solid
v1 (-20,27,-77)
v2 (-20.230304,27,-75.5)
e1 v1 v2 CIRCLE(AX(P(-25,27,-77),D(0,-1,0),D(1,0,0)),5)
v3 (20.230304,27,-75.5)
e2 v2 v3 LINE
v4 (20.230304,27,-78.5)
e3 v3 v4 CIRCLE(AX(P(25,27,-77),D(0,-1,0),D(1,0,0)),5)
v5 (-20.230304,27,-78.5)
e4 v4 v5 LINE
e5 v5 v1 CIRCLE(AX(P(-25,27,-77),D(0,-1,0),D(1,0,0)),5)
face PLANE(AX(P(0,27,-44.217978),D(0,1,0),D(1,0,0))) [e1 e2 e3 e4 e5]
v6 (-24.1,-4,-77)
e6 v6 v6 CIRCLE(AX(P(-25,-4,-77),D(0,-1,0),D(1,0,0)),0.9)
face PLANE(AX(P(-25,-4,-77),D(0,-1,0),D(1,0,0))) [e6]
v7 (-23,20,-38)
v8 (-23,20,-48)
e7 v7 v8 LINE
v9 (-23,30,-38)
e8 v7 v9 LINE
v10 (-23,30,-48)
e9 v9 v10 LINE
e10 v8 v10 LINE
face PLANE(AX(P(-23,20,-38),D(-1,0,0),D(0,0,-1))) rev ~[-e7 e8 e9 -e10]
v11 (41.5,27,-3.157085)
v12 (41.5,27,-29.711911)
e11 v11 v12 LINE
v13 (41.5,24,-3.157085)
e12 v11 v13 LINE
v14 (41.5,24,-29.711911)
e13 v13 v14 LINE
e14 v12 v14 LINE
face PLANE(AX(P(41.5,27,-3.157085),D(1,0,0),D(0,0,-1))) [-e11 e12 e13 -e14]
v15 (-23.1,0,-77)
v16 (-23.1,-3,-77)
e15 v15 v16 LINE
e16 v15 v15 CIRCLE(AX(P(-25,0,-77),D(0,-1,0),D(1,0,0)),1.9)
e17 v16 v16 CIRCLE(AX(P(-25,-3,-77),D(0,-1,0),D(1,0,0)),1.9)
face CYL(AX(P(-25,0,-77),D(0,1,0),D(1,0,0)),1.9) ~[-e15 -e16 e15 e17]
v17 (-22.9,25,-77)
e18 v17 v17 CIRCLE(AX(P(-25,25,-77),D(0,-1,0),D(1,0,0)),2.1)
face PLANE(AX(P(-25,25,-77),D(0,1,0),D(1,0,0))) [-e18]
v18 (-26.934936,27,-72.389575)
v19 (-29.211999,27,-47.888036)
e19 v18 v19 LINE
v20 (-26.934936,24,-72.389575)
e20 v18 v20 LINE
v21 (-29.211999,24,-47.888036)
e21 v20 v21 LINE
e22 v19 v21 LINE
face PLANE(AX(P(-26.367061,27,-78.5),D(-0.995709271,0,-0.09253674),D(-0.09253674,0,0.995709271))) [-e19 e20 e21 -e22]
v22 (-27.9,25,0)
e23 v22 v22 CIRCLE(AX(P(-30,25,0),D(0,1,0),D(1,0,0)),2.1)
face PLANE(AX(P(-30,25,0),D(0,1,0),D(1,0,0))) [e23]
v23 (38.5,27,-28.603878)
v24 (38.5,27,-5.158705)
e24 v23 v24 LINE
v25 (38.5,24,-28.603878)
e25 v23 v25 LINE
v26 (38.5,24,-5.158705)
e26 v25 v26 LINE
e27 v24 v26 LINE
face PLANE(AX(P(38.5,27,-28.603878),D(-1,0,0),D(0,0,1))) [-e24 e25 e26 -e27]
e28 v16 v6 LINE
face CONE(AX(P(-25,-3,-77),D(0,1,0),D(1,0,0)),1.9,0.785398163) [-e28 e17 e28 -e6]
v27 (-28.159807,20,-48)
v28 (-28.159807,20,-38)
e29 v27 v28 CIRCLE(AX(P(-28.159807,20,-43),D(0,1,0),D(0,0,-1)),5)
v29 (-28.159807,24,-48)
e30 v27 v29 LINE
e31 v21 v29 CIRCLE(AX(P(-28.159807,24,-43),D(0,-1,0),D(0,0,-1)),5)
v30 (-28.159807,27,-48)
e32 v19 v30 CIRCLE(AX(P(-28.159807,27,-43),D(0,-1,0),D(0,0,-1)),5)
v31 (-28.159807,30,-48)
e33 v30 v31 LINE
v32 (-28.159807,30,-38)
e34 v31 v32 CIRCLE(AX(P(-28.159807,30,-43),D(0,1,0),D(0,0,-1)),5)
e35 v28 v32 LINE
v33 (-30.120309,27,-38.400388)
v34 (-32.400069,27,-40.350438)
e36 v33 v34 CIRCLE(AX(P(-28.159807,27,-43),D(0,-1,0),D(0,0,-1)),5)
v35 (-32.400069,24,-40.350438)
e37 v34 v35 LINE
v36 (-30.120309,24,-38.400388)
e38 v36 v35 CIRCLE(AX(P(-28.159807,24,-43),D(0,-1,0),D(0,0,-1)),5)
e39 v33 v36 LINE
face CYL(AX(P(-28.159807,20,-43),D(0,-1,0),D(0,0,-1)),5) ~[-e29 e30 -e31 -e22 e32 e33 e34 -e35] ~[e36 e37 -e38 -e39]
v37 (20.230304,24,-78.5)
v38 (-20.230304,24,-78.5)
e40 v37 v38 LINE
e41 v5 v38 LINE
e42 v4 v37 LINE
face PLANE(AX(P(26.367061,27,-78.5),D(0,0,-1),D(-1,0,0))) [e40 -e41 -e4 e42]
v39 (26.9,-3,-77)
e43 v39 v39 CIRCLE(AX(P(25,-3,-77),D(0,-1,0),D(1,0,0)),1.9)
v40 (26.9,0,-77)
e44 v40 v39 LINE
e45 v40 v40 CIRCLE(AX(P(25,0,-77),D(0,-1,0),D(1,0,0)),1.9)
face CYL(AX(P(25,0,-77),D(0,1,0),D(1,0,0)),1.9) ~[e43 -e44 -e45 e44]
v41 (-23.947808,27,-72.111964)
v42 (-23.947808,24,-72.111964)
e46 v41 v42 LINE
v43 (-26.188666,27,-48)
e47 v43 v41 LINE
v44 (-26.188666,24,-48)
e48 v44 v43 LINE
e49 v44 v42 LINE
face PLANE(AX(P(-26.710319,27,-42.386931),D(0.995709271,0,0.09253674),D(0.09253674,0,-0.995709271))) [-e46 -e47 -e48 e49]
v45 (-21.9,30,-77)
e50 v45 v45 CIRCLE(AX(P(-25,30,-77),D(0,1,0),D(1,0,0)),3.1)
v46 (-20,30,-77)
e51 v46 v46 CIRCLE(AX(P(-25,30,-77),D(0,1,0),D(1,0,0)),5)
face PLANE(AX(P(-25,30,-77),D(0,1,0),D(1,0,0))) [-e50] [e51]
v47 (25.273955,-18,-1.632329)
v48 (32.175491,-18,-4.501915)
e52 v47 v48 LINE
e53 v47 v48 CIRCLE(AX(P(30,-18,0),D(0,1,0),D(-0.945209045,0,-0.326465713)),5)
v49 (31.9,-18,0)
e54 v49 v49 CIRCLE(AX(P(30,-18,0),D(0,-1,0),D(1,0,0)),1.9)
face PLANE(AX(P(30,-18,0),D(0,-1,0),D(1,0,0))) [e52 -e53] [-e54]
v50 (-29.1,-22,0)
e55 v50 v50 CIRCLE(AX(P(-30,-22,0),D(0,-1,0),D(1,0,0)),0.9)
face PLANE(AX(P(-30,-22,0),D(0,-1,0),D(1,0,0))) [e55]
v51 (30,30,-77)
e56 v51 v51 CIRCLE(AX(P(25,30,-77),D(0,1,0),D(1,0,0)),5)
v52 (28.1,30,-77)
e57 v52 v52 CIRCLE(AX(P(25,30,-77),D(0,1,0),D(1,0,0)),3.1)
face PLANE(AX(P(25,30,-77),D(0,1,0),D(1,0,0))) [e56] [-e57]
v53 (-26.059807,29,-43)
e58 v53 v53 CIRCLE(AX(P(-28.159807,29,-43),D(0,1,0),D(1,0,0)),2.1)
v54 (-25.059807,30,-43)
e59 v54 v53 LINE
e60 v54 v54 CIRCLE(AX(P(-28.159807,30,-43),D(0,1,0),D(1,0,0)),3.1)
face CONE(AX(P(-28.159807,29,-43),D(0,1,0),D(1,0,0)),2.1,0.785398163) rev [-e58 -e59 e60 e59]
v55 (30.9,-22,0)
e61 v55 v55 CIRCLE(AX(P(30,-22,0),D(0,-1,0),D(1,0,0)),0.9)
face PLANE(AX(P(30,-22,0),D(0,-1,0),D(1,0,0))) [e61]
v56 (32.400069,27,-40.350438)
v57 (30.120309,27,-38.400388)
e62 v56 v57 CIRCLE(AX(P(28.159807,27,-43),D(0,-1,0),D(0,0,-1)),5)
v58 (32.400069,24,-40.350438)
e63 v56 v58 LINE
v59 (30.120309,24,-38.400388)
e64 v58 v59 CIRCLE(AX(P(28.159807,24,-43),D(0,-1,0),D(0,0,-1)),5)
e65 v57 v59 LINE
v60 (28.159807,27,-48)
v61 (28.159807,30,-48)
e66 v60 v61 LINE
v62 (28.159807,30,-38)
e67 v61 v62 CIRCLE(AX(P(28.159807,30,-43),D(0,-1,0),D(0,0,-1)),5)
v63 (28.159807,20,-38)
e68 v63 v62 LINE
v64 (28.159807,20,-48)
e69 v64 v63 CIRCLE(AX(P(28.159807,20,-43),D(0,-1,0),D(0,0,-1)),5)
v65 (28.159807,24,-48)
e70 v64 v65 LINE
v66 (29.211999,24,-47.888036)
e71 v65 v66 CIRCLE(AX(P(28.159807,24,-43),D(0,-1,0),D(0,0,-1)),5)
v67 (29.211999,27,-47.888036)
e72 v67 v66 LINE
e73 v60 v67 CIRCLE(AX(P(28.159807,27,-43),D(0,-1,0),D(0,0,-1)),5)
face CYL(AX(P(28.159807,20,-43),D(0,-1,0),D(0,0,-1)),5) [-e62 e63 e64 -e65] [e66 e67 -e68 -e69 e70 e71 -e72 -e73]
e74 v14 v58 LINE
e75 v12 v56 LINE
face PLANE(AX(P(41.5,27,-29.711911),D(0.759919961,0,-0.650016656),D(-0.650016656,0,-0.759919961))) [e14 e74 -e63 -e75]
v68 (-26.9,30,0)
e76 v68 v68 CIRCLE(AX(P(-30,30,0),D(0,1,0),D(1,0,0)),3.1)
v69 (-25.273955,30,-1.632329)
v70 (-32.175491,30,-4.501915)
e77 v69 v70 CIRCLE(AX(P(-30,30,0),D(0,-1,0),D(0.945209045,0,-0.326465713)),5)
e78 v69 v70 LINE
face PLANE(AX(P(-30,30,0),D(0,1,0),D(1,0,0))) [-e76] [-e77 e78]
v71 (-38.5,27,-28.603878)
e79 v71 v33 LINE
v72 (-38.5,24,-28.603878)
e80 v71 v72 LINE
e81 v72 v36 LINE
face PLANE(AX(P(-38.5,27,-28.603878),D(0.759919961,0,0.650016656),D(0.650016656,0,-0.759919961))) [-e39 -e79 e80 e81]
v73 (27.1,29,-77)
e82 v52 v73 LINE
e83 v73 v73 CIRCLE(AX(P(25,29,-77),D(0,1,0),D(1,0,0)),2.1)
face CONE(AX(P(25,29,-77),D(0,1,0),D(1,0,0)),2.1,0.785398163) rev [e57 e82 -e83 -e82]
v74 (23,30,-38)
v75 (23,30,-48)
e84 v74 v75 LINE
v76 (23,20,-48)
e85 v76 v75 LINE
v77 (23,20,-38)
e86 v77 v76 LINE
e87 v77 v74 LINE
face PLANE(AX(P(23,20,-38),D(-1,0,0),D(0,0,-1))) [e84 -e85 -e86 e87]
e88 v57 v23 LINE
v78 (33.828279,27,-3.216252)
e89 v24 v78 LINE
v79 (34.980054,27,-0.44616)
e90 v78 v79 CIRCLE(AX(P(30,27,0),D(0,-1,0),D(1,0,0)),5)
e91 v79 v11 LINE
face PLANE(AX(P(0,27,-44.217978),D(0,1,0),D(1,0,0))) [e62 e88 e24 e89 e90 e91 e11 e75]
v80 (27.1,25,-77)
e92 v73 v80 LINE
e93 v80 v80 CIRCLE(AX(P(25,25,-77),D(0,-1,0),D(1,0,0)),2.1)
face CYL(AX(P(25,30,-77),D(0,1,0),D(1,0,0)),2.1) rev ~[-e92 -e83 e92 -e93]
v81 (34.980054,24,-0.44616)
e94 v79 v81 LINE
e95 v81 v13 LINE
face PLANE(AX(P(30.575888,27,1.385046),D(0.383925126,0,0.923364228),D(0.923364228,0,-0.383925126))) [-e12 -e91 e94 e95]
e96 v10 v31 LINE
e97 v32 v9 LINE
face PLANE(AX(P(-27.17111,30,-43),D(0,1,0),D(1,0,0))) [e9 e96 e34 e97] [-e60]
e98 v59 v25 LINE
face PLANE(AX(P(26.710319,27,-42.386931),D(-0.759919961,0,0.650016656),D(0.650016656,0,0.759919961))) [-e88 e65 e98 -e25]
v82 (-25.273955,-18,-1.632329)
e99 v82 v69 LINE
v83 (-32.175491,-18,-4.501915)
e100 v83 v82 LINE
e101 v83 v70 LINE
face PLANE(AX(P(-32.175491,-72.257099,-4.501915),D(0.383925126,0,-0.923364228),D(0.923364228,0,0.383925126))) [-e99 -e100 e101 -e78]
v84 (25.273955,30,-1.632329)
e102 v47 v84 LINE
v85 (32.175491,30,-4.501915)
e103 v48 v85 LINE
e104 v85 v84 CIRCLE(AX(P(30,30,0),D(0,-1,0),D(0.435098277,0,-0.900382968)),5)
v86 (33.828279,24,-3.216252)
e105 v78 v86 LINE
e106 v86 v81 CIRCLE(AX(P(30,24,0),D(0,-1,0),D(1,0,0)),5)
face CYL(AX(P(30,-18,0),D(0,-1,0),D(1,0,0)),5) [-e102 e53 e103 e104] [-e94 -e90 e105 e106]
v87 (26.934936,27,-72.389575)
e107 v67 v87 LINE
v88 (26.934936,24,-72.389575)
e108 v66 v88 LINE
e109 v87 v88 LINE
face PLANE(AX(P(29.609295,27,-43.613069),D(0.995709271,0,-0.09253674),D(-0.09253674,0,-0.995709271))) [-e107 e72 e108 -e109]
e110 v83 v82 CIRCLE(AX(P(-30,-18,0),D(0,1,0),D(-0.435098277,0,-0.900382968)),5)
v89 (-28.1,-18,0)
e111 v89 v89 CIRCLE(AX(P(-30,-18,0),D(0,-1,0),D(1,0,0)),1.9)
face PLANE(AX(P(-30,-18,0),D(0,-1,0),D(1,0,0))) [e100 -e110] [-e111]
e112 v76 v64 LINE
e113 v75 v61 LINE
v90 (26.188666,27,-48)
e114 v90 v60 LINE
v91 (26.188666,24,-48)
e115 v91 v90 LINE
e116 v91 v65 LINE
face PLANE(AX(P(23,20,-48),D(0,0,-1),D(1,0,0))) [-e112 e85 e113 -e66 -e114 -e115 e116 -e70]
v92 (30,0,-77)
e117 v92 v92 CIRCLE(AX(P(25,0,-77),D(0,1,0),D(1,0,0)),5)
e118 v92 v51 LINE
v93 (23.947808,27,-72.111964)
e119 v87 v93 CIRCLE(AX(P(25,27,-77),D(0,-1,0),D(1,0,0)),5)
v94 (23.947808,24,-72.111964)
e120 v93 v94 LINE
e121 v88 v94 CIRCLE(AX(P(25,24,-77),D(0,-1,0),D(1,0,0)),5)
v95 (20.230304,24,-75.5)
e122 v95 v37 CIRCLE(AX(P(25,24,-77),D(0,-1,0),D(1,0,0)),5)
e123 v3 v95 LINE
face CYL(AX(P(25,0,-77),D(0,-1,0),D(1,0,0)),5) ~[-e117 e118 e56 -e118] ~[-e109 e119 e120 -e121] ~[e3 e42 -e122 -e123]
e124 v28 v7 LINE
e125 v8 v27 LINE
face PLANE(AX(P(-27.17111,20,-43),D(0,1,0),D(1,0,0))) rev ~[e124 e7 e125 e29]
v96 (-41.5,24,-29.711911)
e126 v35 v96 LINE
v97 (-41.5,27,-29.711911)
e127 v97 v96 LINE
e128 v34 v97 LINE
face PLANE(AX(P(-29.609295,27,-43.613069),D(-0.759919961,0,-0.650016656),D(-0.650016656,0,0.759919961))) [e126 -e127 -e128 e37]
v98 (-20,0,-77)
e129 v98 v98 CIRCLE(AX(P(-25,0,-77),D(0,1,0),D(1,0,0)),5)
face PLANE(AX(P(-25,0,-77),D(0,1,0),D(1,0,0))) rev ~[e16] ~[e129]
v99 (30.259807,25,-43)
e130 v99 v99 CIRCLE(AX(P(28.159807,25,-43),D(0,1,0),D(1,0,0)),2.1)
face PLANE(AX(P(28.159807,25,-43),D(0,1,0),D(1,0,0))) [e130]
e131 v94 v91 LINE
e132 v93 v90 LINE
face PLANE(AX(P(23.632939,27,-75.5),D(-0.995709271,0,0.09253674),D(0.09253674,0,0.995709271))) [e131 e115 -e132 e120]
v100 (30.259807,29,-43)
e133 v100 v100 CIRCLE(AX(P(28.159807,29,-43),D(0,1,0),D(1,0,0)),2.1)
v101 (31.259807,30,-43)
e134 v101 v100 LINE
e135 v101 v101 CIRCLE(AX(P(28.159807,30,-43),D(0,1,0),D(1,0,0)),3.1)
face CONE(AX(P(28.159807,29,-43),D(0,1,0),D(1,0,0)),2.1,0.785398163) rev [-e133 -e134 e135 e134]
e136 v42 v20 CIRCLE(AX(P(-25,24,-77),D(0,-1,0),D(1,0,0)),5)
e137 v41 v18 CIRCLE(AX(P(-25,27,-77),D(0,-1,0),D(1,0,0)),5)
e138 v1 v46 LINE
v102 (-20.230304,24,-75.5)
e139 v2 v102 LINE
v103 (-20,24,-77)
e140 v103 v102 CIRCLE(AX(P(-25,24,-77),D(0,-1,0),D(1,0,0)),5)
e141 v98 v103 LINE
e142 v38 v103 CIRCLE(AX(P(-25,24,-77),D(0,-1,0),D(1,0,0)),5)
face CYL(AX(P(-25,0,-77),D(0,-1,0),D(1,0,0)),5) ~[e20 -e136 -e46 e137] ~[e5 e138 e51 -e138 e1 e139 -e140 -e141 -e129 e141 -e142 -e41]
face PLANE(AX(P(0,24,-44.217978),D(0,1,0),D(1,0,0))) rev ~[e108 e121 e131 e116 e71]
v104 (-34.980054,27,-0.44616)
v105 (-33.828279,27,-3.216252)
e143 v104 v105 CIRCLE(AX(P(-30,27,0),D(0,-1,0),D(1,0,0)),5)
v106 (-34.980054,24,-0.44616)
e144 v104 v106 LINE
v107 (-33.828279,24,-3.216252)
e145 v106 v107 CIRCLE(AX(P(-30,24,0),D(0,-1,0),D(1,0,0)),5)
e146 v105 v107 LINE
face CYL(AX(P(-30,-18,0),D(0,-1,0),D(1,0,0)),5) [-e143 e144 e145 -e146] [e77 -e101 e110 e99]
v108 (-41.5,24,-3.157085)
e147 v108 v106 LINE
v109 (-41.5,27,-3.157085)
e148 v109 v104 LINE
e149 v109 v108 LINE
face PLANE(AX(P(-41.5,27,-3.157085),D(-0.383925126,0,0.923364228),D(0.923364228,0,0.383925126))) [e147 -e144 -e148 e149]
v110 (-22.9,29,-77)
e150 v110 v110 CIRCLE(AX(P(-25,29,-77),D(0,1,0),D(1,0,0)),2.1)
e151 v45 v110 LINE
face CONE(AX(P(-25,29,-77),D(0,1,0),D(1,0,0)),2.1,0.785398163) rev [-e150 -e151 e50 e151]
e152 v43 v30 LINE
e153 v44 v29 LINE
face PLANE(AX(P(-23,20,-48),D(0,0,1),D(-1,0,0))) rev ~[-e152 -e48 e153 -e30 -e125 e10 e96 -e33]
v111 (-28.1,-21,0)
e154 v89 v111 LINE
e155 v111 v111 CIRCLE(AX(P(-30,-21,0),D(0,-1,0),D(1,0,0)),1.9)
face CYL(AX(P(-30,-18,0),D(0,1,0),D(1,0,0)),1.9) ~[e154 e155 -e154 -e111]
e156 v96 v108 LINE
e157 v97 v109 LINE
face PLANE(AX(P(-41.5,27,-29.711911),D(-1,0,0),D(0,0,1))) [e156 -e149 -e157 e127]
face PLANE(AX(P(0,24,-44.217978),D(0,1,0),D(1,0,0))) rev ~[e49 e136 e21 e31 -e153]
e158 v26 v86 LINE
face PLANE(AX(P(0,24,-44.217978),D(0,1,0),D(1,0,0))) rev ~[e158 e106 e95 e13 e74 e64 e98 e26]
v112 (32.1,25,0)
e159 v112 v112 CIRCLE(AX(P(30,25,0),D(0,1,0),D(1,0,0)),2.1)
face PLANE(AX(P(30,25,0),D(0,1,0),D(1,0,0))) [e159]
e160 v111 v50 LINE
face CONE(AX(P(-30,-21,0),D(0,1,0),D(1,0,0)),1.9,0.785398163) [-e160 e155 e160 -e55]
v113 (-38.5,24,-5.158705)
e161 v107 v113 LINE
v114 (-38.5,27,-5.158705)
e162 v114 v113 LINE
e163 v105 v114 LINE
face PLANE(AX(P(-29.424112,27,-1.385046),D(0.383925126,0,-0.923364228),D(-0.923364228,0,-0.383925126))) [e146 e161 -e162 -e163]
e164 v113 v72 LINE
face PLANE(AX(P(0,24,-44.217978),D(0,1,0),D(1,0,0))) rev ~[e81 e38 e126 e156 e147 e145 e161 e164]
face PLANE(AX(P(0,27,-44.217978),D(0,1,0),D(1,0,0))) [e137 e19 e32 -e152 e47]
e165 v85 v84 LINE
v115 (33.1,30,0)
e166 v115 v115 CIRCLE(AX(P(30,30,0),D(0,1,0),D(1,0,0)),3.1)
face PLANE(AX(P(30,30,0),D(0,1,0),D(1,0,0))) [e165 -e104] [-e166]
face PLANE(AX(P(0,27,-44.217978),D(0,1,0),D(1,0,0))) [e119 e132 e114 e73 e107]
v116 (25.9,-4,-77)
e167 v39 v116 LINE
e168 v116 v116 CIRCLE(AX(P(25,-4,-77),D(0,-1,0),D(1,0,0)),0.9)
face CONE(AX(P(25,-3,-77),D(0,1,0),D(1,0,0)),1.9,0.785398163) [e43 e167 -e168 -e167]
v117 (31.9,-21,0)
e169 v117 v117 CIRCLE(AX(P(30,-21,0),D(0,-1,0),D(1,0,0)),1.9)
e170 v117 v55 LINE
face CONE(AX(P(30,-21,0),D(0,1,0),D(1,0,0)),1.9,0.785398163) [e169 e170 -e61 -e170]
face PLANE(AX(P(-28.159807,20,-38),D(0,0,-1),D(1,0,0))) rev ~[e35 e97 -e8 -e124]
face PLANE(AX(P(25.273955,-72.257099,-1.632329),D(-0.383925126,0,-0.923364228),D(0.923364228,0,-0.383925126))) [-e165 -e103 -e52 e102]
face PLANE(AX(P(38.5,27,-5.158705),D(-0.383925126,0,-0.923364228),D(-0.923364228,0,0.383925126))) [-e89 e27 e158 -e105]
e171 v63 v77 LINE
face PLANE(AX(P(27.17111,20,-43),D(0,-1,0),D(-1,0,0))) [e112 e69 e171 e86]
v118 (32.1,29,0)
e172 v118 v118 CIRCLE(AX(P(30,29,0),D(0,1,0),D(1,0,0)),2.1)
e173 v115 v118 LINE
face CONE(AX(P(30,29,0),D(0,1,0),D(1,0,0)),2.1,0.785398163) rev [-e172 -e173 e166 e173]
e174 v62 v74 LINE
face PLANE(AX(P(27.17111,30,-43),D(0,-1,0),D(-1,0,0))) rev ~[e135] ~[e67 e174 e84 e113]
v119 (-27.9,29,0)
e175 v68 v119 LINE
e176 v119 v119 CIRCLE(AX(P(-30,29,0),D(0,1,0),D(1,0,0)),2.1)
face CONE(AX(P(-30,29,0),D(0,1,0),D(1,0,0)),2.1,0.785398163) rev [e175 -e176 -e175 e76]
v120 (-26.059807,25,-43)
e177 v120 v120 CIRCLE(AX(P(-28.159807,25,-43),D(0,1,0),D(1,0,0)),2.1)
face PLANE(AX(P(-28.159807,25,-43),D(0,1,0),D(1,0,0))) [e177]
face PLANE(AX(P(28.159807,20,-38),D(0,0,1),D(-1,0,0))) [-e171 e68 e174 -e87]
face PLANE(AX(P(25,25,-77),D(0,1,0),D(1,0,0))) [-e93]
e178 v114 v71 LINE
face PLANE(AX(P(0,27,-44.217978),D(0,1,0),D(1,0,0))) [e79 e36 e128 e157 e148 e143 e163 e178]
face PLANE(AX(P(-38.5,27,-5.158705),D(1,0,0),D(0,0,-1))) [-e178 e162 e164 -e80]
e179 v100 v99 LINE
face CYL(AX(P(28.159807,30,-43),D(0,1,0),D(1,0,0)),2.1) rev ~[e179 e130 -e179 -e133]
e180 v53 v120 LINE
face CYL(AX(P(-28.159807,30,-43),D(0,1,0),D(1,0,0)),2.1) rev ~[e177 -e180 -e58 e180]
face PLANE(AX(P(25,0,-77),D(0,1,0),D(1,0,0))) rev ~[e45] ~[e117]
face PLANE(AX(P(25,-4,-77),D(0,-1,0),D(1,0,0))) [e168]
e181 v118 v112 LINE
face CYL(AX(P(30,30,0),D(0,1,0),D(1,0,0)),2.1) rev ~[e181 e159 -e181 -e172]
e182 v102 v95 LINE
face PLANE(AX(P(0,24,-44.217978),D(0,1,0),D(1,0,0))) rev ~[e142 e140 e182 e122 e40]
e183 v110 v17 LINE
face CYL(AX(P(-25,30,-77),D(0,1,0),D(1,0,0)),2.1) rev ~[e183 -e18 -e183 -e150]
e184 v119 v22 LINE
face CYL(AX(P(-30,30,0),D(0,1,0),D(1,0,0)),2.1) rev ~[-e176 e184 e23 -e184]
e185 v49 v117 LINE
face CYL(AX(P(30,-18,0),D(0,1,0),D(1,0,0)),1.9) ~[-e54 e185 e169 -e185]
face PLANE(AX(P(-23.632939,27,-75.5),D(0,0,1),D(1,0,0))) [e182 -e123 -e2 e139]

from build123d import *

# Parameters (mm, degrees)
SKETCH_1_R               = 5
EXTRUDE_1_DEPTH          = 30
EXTRUDE_1_2_DEPTH        = 30
EXTRUDE_1_3_DEPTH        = 30
EXTRUDE_1_4_DEPTH        = 30
EXTRUDE_START            = 18
SKETCH_2_R               = 5
EXTRUDE_2_DEPTH          = 18
SKETCH_3_R               = 2.1
CUT_EXTRUDE_1_DEPTH      = 5
EXTRUDE_START_2          = 20
EXTRUDE_3_DEPTH          = 10
EXTRUDE_3_2_DEPTH        = 10
CUT_EXTRUDE_2_DEPTH      = 102.257098517
CUT_EXTRUDE_2_DEPTH_BACK = 102.257098517
EXTRUDE_START_3          = -3
EXTRUDE_4_DEPTH          = 3
SKETCH_7_R               = 2.1
CUT_EXTRUDE_3_DEPTH      = 5
SKETCH_8_R               = 1.9
EXTRUDE_5_DEPTH          = 4
SKETCH_9_R               = 1.9
EXTRUDE_6_DEPTH          = 4
CHAMFER_1_SIZE           = 1


with BuildPart() as part:
    # 스케치1 → 보스-돌출1 (new body)
    with BuildSketch(Plane(origin=(0, 0, 0), x_dir=(1, 0, 0), z_dir=(0, 1, 0))):
        with Locations((30, 0)):
            Circle(SKETCH_1_R)
    extrude(amount=EXTRUDE_1_DEPTH)



with BuildPart() as body_2:
    # 스케치1 → Extrude 1 2 (new body)
    with BuildSketch(Plane(origin=(0, 0, 0), x_dir=(1, 0, 0), z_dir=(0, 1, 0))):
        with Locations((25, 77)):
            Circle(SKETCH_1_R)
    extrude(amount=EXTRUDE_1_2_DEPTH)


with BuildPart() as body_3:
    # 스케치1 → Extrude 1 3 (new body)
    with BuildSketch(Plane(origin=(0, 0, 0), x_dir=(1, 0, 0), z_dir=(0, 1, 0))):
        with Locations((-30, 0)):
            Circle(SKETCH_1_R)
    extrude(amount=EXTRUDE_1_3_DEPTH)


with BuildPart() as body_4:
    # 스케치1 → Extrude 1 4 (new body)
    with BuildSketch(Plane(origin=(0, 0, 0), x_dir=(1, 0, 0), z_dir=(0, 1, 0))):
        with Locations((-25, 77)):
            Circle(SKETCH_1_R)
    extrude(amount=EXTRUDE_1_4_DEPTH)


with BuildPart() as part_1:
    add(part.part)

    add(body_3.part)  # 보스-돌출2 merges body 3
    # 스케치2 → 보스-돌출2 (add)
    with BuildSketch(Plane.XZ.offset(EXTRUDE_START)):
        with Locations((-30, 0)):
            Circle(SKETCH_2_R)
        with Locations((30, 0)):
            Circle(SKETCH_2_R)
    extrude(amount=-EXTRUDE_2_DEPTH)

    # 스케치5 → 컷-돌출2 (cut, two sides: drawn at the far end of the back side and taken through both)
    with BuildSketch(Plane(origin=(0, 30, 0), x_dir=(1, 0, 0), z_dir=(0, 1, 0)).offset(-CUT_EXTRUDE_2_DEPTH_BACK)):
        with BuildLine():
            Line((-32.175491387, 4.50191484), (-25.273954776, 1.632328565))
            ThreePointArc((-25.273954776, 1.632328565), (-28.080374368, 4.61682114), (-32.175491387, 4.50191484))
        make_face()
        with BuildLine():
            Line((25.273954776, 1.632328565), (32.175491387, 4.50191484))
            ThreePointArc((32.175491387, 4.50191484), (28.080374368, 4.61682114), (25.273954776, 1.632328565))
        make_face()
    extrude(amount=CUT_EXTRUDE_2_DEPTH + CUT_EXTRUDE_2_DEPTH_BACK, mode=Mode.SUBTRACT)



with BuildPart() as cut_extrude_1_tool:
    # 스케치3 → 컷-돌출1 (new body)
    with BuildSketch(Plane(origin=(0, 30, 0), x_dir=(1, 0, 0), z_dir=(0, 1, 0))):
        with Locations((-25, 77)):
            Circle(SKETCH_3_R)
        with Locations((25, 77)):
            Circle(SKETCH_3_R)
    extrude(amount=-CUT_EXTRUDE_1_DEPTH)


with BuildPart() as body_2_1:
    add(body_2.part)

    # 컷-돌출1: cut by cut_extrude_1_tool
    add(cut_extrude_1_tool.part, mode=Mode.SUBTRACT)


with BuildPart() as body_4_1:
    add(body_4.part)

    # 컷-돌출1: cut by cut_extrude_1_tool
    add(cut_extrude_1_tool.part, mode=Mode.SUBTRACT)


with BuildPart() as body_4_2:
    # 스케치4 → 보스-돌출3 (new body)
    with BuildSketch(Plane(origin=(0, 0, 0), x_dir=(1, 0, 0), z_dir=(0, 1, 0)).offset(EXTRUDE_START_2)):
        with BuildLine():
            Line((23, 48), (28.159807037, 48))
            ThreePointArc((28.159807037, 48), (33.159807037, 43), (28.159807037, 38))
            Line((28.159807037, 38), (23, 38))
            Line((23, 38), (23, 48))
        make_face()
    extrude(amount=EXTRUDE_3_DEPTH)


with BuildPart() as body_5:
    # 스케치4 → Extrude 3 2 (new body)
    with BuildSketch(Plane(origin=(0, 0, 0), x_dir=(1, 0, 0), z_dir=(0, 1, 0)).offset(EXTRUDE_START_2)):
        with BuildLine():
            Line((-23, 48), (-28.159807037, 48))
            ThreePointArc((-28.159807037, 48), (-33.159807037, 43), (-28.159807037, 38))
            Line((-28.159807037, 38), (-23, 38))
            Line((-23, 38), (-23, 48))
        make_face()
    extrude(amount=EXTRUDE_3_2_DEPTH)


with BuildPart() as part_2:
    add(part_1.part)

    add(body_2_1.part)  # 보스-돌출4 merges body 2

    add(body_4_1.part)  # 보스-돌출4 merges body 4

    add(body_4_2.part)  # 보스-돌출4 merges body 4 2

    add(body_5.part)  # 보스-돌출4 merges body 5
    # 스케치6 → 보스-돌출4 (add)
    with BuildSketch(Plane(origin=(0, 30, 0), x_dir=(1, 0, 0), z_dir=(0, 1, 0)).offset(EXTRUDE_START_3)):
        Polygon((-29.42411231, 1.385046342), (-38.5, 5.158704907), (-38.5, 28.603878074), (-26.710319101, 42.386930811), (-23.632939423, 75.5), (23.632939423, 75.5), (26.710319101, 42.386930811), (38.5, 28.603878074), (38.5, 5.158704907), (29.42411231, 1.385046342), (30.57588769, -1.385046342), (41.5, 3.157084566), (41.5, 29.7119114), (29.609294973, 43.613069189), (26.367060577, 78.5), (-26.367060577, 78.5), (-29.609294973, 43.613069189), (-41.5, 29.7119114), (-41.5, 3.157084566), (-30.57588769, -1.385046342), align=None)
    extrude(amount=-EXTRUDE_4_DEPTH)

    # 스케치7 → 컷-돌출3 (cut)
    with BuildSketch(Plane(origin=(0, 30, 0), x_dir=(1, 0, 0), z_dir=(0, 1, 0))):
        with Locations((30, 0)):
            Circle(SKETCH_7_R)
        with Locations((-30, 0)):
            Circle(SKETCH_7_R)
        with Locations((28.159807037, 43)):
            Circle(SKETCH_7_R)
        with Locations((-28.159807037, 43)):
            Circle(SKETCH_7_R)
        with Locations((25, 77)):
            Circle(SKETCH_7_R)
        with Locations((-25, 77)):
            Circle(SKETCH_7_R)
    extrude(amount=-CUT_EXTRUDE_3_DEPTH, mode=Mode.SUBTRACT)

    # 스케치8 → 보스-돌출5 (add)
    with BuildSketch(Plane.XZ.offset(18)):
        with Locations((-30, 0)):
            Circle(SKETCH_8_R)
        with Locations((30, 0)):
            Circle(SKETCH_8_R)
    extrude(amount=EXTRUDE_5_DEPTH)

    # 스케치9 → 보스-돌출6 (add)
    with BuildSketch(Plane.XZ):
        with Locations((-25, -77)):
            Circle(SKETCH_9_R)
        with Locations((25, -77)):
            Circle(SKETCH_9_R)
    extrude(amount=EXTRUDE_6_DEPTH)

    # 모따기1
    chamfer_1_edges = [part_2.edges().sort_by_distance(p)[0] for p in [
        (28.1, -22, 0),
        (-31.9, -22, 0),
        (-26.9, -4, -77),
        (23.1, -4, -77),
        (22.9, 30, -77),
        (26.059807037, 30, -43),
        (27.9, 30, 0),
        (-32.1, 30, 0),
        (-30.259807037, 30, -43),
        (-27.1, 30, -77),
    ]]
    chamfer(chamfer_1_edges, length=CHAMFER_1_SIZE)


solid = part_2.part
